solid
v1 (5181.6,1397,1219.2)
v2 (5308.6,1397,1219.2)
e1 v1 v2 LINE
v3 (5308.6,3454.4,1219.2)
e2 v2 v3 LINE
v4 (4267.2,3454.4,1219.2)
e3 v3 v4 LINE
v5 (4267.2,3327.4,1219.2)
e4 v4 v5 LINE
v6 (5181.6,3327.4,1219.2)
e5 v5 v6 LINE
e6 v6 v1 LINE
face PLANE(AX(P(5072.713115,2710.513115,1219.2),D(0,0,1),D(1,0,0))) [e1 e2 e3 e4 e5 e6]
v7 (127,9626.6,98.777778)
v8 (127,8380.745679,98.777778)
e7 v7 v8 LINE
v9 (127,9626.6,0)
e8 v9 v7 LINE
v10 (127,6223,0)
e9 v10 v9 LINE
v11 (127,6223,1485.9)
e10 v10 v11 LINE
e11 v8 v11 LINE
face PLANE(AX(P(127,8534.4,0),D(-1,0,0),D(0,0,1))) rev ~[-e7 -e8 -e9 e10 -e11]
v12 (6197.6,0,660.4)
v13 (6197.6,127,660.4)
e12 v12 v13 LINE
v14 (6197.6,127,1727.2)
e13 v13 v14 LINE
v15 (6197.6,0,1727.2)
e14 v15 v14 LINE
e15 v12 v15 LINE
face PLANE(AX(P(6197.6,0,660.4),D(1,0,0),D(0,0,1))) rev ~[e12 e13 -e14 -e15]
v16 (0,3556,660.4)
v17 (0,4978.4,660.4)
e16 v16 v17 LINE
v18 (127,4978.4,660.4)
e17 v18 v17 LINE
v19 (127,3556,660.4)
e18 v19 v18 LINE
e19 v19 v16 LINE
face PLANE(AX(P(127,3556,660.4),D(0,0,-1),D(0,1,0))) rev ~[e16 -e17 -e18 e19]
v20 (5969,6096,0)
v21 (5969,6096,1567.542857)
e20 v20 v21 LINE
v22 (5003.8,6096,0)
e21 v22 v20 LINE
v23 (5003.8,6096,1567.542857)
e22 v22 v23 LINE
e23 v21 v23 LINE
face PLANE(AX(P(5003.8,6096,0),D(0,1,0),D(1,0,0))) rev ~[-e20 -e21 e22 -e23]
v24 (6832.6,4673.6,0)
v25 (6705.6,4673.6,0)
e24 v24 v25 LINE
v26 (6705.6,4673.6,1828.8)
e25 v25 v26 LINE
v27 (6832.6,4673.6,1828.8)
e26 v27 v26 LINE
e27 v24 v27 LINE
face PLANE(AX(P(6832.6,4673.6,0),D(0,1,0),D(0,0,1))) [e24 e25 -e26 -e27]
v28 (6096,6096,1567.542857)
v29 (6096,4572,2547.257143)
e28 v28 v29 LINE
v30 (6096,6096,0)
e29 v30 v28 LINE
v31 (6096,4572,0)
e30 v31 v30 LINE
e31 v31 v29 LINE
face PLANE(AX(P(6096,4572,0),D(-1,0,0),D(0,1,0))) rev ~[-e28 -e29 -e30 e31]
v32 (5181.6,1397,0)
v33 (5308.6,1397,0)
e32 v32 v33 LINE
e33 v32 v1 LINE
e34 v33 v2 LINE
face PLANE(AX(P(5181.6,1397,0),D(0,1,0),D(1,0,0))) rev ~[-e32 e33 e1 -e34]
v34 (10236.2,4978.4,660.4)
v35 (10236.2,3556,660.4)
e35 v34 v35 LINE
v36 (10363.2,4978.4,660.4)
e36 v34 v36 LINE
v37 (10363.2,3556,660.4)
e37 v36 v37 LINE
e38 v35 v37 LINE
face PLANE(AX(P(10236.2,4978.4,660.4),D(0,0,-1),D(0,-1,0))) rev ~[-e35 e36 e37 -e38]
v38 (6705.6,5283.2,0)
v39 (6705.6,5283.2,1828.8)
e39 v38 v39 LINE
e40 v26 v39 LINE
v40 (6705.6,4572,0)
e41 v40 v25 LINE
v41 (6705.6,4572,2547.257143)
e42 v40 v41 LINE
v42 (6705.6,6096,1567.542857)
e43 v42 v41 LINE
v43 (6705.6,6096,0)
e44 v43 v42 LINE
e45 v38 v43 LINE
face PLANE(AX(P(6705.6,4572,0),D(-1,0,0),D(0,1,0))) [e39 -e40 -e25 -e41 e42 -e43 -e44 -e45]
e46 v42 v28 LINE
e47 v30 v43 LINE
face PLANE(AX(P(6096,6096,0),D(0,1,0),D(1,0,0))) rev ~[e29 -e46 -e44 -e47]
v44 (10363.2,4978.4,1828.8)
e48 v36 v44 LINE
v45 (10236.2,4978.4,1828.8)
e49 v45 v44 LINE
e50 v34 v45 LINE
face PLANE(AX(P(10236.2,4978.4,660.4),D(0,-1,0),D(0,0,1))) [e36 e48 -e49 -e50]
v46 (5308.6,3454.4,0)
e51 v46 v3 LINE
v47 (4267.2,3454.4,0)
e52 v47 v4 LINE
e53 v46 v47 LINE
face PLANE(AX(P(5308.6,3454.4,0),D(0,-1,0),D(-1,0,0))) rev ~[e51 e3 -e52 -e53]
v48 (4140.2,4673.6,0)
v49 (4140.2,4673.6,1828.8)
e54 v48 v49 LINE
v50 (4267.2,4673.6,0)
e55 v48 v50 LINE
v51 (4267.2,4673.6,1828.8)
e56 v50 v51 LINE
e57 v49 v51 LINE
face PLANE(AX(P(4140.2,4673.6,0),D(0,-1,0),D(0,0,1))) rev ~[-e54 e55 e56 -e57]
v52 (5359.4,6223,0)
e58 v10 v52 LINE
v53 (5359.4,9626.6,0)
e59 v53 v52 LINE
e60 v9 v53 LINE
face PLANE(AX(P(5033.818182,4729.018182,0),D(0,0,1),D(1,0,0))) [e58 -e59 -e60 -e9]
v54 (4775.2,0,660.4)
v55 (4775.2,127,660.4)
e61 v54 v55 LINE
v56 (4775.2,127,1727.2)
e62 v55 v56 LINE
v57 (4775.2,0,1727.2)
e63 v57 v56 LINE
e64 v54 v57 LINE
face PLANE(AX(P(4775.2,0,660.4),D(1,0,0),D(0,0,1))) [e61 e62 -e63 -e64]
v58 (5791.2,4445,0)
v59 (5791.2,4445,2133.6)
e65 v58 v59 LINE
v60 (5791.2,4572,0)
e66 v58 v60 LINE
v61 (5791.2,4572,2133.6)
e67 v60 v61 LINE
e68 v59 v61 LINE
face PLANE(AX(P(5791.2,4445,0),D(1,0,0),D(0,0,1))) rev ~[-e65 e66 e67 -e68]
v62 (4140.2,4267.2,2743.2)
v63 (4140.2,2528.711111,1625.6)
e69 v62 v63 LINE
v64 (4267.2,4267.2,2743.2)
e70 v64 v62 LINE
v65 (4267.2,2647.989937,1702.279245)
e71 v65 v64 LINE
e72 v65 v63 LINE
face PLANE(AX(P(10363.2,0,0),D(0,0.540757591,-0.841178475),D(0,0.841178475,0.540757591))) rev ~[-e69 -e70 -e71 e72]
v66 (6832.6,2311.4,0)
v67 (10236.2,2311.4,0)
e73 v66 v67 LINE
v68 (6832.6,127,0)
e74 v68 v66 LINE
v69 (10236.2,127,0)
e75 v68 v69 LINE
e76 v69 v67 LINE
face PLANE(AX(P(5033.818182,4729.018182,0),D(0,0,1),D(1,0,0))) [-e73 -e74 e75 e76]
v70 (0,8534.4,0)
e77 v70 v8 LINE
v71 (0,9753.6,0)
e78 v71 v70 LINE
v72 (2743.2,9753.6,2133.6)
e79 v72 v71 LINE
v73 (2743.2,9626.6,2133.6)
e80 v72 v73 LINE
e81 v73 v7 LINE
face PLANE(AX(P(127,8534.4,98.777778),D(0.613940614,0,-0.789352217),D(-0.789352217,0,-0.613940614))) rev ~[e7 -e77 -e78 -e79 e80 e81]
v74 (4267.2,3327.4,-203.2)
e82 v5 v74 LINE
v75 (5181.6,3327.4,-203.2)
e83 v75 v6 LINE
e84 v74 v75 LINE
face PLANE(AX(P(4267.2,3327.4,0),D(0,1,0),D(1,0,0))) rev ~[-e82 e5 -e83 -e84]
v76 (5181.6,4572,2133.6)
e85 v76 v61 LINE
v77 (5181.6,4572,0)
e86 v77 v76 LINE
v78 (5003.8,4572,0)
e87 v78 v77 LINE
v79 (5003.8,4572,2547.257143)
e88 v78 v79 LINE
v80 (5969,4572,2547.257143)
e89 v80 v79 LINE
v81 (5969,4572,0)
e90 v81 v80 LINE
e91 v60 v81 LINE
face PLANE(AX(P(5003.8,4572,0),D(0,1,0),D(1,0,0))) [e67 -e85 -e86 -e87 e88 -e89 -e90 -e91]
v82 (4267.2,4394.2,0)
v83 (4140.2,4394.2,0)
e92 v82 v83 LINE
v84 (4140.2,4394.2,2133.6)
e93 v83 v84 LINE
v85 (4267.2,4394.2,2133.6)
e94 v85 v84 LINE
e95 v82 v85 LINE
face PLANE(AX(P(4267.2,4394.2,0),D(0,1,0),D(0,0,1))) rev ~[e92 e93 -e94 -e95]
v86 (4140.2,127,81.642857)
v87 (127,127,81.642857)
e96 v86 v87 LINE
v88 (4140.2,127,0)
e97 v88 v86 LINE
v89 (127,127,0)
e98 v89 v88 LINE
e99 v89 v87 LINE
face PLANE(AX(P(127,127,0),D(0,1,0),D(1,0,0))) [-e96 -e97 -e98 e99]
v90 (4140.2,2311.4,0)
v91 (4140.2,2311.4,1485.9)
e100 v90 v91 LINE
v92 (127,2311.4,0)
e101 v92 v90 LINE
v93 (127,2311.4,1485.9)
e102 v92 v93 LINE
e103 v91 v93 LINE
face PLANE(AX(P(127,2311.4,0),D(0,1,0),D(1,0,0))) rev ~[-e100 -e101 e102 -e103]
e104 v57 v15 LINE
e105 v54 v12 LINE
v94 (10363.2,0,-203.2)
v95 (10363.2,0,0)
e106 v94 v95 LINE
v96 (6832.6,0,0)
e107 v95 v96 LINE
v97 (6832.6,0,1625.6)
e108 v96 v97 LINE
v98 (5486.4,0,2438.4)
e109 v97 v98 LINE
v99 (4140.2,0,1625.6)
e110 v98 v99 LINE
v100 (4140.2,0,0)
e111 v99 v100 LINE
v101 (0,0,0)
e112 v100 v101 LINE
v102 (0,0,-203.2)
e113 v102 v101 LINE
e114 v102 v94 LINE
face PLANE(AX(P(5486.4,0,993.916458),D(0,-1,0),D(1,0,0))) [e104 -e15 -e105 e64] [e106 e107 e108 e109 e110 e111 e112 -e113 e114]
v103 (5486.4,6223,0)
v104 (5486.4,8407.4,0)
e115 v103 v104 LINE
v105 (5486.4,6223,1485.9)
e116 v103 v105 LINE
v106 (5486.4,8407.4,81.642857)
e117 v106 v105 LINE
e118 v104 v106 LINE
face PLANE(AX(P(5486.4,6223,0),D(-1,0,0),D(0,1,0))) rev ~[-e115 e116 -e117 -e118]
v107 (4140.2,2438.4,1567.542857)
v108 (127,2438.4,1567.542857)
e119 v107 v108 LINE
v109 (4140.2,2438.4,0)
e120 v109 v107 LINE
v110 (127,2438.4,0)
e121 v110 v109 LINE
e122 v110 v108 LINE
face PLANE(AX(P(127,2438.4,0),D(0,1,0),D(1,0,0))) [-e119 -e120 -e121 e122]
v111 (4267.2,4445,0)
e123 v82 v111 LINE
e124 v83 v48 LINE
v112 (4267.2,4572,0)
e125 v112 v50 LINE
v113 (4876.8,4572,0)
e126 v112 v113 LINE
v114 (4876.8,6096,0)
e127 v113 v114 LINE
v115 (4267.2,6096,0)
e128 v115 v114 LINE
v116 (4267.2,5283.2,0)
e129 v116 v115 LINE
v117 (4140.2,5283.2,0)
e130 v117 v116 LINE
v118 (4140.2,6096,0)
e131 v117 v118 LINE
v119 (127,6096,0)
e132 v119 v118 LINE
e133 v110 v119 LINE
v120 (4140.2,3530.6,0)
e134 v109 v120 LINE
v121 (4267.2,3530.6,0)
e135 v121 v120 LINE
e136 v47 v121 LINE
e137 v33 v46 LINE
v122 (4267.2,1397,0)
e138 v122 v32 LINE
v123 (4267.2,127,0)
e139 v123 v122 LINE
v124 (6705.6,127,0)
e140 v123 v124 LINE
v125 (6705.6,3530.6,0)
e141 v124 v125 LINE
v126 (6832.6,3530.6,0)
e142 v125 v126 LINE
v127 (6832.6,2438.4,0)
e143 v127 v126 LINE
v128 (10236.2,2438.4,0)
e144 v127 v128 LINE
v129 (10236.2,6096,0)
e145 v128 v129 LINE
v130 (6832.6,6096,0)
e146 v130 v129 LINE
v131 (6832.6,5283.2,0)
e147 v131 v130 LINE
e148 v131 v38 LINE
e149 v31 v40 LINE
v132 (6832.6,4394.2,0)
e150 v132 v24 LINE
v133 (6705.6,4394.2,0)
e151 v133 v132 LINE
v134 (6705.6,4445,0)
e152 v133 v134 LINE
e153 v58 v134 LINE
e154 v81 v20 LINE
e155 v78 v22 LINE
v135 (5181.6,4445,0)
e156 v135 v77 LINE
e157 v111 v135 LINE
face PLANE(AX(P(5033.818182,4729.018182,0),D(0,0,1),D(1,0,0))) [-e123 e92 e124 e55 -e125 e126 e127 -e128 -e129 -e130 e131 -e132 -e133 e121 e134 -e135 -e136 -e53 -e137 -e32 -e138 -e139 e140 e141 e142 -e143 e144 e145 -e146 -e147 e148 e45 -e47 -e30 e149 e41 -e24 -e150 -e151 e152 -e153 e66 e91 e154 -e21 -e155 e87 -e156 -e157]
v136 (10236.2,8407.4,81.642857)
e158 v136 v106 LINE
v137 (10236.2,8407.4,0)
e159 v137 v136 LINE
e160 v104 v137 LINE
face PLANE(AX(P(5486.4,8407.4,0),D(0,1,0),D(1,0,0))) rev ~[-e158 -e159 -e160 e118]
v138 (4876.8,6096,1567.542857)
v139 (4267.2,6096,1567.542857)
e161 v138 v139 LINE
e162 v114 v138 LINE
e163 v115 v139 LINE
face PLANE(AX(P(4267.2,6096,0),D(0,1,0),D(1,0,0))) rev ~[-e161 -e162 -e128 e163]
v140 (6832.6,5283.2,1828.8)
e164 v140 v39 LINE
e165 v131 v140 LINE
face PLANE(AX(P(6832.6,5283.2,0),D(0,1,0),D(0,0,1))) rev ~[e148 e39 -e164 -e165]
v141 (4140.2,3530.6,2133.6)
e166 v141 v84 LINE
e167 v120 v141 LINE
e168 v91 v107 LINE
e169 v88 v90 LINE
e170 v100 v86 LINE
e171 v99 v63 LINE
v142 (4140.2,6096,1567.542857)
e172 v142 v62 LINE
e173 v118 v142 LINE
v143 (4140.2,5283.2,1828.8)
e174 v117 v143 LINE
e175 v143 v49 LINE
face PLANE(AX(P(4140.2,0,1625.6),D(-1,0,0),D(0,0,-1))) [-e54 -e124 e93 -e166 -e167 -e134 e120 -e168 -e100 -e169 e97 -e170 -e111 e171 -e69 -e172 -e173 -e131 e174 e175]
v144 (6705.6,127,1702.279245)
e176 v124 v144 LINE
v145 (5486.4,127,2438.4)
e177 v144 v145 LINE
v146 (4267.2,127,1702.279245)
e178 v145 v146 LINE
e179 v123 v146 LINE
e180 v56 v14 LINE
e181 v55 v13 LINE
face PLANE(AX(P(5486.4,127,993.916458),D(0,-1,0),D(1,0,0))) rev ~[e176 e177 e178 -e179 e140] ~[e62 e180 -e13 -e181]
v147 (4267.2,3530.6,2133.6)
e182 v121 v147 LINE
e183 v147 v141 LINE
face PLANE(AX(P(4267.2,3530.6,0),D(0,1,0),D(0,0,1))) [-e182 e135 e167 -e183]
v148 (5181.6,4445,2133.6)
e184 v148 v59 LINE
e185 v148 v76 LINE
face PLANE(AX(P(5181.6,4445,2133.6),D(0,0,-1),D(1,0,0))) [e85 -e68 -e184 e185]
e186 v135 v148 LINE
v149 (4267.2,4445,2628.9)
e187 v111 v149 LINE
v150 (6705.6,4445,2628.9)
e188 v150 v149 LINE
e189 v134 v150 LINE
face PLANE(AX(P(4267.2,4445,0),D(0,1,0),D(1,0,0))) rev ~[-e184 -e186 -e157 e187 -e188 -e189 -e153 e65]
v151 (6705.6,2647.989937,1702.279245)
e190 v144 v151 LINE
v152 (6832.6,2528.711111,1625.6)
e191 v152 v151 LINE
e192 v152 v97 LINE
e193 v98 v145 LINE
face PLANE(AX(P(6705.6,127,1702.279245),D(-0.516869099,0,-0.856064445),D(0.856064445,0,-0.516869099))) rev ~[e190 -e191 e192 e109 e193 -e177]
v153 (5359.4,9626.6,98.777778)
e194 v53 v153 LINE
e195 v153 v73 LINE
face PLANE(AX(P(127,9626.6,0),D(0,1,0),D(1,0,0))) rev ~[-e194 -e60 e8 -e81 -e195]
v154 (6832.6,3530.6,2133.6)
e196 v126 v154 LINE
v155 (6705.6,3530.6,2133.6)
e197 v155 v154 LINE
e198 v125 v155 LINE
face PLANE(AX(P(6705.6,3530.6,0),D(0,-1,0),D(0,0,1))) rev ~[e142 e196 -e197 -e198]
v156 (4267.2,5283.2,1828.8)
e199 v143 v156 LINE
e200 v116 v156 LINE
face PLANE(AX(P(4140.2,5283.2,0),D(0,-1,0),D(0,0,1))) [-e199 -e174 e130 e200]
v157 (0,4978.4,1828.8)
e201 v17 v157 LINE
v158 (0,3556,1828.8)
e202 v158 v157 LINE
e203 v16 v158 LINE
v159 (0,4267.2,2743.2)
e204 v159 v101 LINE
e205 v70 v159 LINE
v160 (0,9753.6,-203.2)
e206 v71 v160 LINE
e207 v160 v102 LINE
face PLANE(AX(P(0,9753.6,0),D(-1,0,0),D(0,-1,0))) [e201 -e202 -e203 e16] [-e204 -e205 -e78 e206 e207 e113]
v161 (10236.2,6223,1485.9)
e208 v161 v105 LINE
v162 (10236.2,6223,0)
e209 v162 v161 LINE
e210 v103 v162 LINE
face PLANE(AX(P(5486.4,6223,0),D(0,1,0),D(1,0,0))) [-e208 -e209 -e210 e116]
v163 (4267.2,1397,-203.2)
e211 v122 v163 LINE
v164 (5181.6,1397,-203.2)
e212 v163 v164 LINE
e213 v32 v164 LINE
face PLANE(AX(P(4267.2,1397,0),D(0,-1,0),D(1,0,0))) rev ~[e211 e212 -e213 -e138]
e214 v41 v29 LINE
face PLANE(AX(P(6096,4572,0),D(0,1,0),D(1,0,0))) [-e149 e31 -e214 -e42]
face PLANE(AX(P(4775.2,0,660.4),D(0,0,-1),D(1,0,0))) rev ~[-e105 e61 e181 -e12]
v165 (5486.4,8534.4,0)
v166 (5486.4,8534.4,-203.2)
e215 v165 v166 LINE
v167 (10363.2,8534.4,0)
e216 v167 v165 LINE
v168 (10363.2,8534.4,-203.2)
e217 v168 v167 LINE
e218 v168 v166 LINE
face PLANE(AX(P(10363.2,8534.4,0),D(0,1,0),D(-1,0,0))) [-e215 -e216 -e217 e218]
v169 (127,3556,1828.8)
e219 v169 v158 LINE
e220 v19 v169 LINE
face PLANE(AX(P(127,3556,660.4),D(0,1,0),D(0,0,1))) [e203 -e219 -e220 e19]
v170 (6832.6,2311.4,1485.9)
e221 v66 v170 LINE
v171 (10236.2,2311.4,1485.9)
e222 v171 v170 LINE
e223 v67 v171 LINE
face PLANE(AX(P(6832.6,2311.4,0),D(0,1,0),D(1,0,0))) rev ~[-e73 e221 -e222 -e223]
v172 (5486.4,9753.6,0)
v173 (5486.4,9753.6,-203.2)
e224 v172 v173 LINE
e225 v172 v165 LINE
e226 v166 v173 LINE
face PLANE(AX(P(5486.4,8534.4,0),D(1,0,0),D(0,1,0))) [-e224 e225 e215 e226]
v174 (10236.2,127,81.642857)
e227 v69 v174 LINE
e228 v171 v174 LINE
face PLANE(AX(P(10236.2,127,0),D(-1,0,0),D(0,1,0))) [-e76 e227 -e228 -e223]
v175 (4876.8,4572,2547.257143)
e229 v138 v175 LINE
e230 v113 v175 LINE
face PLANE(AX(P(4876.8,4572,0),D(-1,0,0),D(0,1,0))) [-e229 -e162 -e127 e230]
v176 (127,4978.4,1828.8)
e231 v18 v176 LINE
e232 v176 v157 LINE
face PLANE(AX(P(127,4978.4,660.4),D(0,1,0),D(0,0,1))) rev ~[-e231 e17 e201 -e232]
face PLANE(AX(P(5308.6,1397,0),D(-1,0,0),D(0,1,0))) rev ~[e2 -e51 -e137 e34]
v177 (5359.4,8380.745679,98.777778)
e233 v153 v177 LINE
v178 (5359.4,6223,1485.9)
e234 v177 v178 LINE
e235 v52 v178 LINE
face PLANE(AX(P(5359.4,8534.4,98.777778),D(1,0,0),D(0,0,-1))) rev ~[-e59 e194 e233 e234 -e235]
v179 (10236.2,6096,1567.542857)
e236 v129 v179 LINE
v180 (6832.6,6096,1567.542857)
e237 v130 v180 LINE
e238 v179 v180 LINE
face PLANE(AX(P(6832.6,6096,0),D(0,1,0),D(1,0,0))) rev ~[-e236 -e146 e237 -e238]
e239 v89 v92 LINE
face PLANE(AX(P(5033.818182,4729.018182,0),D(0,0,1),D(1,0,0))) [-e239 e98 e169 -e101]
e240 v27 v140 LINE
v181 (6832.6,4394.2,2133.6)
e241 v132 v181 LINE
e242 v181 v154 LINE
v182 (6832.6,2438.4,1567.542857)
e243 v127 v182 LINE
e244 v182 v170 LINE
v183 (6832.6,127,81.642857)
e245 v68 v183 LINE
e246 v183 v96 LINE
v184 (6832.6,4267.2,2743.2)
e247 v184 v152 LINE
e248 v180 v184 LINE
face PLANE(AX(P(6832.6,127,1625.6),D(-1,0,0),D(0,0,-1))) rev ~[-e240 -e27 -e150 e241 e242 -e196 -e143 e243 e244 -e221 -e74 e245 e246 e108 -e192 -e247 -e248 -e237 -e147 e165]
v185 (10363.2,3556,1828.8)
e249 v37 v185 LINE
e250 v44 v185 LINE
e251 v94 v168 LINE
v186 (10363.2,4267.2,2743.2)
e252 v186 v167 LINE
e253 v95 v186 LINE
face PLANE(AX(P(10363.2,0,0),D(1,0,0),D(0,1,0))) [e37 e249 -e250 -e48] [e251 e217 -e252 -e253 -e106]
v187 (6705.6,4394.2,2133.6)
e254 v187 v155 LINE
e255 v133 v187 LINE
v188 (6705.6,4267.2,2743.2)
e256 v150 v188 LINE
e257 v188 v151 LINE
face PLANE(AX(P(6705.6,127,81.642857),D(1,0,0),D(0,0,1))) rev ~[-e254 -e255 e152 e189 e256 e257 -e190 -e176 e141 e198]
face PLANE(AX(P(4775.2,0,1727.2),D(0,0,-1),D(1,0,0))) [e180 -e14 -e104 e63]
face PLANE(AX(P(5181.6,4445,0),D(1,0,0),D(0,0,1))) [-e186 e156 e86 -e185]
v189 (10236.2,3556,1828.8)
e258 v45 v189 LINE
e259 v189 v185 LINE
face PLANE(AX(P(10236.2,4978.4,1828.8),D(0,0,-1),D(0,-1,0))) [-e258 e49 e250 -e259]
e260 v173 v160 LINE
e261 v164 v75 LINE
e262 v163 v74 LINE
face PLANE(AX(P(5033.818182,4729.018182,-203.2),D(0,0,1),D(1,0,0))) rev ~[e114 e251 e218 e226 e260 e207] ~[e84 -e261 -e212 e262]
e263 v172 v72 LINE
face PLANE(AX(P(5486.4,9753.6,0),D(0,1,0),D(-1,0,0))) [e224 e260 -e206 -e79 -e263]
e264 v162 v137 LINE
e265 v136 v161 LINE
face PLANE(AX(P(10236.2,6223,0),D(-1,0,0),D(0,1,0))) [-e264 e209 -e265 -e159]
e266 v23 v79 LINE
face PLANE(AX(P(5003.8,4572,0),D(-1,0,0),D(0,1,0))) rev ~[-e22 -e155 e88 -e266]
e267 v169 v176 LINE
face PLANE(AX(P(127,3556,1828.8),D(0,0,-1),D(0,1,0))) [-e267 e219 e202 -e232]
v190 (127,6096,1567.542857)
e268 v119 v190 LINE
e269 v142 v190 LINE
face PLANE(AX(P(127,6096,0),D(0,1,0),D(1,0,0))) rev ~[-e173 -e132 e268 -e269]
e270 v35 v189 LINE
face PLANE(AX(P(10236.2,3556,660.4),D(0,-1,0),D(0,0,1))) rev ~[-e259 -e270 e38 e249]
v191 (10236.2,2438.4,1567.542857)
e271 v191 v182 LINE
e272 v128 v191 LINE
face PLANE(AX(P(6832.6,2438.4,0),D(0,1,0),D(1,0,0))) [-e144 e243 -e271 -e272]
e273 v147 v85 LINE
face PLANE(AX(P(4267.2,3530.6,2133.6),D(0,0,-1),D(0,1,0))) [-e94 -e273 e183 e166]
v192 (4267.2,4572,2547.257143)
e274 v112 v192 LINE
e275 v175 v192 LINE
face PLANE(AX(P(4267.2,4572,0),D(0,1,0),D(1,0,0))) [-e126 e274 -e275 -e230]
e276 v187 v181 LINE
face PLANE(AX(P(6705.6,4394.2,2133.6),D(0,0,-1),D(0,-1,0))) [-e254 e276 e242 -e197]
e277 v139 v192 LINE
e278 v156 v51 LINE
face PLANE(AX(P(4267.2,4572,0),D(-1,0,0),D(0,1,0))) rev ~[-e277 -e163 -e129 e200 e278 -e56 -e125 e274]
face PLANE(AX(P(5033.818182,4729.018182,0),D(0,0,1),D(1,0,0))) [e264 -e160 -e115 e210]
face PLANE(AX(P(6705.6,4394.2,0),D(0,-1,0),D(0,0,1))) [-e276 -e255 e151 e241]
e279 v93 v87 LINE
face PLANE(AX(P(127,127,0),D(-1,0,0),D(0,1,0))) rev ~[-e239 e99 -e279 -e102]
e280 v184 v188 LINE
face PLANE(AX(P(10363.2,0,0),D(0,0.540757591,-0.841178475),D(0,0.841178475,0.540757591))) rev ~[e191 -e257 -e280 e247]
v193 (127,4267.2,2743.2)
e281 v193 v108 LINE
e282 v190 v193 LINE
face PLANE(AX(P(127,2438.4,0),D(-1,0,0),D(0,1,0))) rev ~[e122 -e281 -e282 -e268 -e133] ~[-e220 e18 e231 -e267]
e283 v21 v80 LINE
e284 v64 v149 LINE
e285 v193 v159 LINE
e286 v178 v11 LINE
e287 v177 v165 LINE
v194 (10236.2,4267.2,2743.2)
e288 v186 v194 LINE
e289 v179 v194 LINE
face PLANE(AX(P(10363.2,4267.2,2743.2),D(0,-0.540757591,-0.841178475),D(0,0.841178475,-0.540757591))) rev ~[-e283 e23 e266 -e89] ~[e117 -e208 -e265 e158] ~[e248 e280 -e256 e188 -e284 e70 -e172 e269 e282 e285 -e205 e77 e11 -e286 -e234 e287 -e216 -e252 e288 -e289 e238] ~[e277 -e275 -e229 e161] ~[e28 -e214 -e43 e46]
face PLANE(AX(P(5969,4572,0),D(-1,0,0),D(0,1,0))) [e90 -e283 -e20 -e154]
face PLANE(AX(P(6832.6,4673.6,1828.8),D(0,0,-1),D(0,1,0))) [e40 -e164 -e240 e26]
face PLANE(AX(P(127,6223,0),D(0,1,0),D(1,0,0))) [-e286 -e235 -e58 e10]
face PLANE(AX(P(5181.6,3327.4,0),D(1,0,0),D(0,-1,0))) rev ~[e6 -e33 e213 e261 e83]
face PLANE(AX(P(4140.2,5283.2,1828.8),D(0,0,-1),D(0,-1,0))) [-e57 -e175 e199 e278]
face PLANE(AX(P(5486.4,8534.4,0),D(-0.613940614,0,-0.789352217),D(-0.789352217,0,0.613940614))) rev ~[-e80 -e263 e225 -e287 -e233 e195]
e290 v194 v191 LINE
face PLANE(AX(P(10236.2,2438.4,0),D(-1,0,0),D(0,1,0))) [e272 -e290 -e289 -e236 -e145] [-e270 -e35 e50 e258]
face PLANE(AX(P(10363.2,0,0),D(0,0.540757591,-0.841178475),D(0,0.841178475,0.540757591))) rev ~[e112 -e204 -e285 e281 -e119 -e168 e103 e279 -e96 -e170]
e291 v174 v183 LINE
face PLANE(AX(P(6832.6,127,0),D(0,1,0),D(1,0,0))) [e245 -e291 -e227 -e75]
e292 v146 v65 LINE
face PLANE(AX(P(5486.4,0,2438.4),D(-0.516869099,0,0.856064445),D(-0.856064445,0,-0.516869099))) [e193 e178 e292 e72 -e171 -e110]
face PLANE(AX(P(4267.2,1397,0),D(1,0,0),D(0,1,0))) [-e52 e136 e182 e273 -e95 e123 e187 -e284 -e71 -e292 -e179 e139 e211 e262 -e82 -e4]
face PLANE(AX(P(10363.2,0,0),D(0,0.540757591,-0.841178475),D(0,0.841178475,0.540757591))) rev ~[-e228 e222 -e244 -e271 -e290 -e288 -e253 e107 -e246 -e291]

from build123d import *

# Parameters (mm, degrees)
F0_W      = 4013.2
F0_H      = 2184.4
F0_H_2    = 3657.6
F0_W_2    = 2438.4
F0_H_3    = 4318
F0_W_3    = 3403.6
F0_W_4    = 609.6
F0_H_4    = 1524
F0_W_5    = 5232.4
F0_H_5    = 3403.6
F0_W_6    = 965.2
F0_W_7    = 4749.8
F1_DEPTH  = 2743.2
F2_W      = 914.4
F2_H      = 1930.4
F3_DEPTH  = 203.2
F4_W      = 863.6
F4_H      = 2133.6
F5_DEPTH  = 127
F6_W      = 863.6
F6_H      = 2133.6
F7_DEPTH  = 127
F8_W      = 609.6
F8_H      = 2133.6
F9_DEPTH  = 127
F10_W     = 1422.4
F10_H     = 1168.4
F11_DEPTH = 127
F12_W     = 609.6
F12_H     = 1828.8
F13_DEPTH = 127
F14_W     = 1422.4
F14_H     = 1168.4
F15_DEPTH = 127
F16_W     = 609.6
F16_H     = 1828.8
F17_DEPTH = 127
F19_DEPTH = 10363.201
F21_DEPTH = 1219.2
F22_W     = 1422.4
F22_H     = 1066.8
F23_DEPTH = 127
F27_DEPTH = 1219.2


with BuildPart() as f1:
    # F0 (on Top) → F1 (new body)
    with BuildSketch(Plane.XY):
        Polygon((0, 9753.6), (0, 0), (10363.2, 0), (10363.2, 8534.4), (5486.4, 8534.4), (5486.4, 9753.6), align=None)
        with Locations((2133.6, 1219.2)):
            Rectangle(F0_W, F0_H, mode=Mode.SUBTRACT)
        with Locations((2133.6, 4267.2)):
            Rectangle(F0_W, F0_H_2, mode=Mode.SUBTRACT)
        with Locations((5486.4, 2286)):
            Rectangle(F0_W_2, F0_H_3, mode=Mode.SUBTRACT)
        with Locations((8534.4, 1219.2)):
            Rectangle(F0_W_3, F0_H, mode=Mode.SUBTRACT)
        with Locations((8534.4, 4267.2)):
            Rectangle(F0_W_3, F0_H_2, mode=Mode.SUBTRACT)
        with Locations((4572, 5334)):
            Rectangle(F0_W_4, F0_H_4, mode=Mode.SUBTRACT)
        with Locations((2743.2, 7924.8)):
            Rectangle(F0_W_5, F0_H_5, mode=Mode.SUBTRACT)
        with Locations((5486.4, 5334)):
            Rectangle(F0_W_6, F0_H_4, mode=Mode.SUBTRACT)
        with Locations((6400.8, 5334)):
            Rectangle(F0_W_4, F0_H_4, mode=Mode.SUBTRACT)
        with Locations((7861.3, 7315.2)):
            Rectangle(F0_W_7, F0_H, mode=Mode.SUBTRACT)
    extrude(amount=F1_DEPTH)

    # F2 (on Top) → F3 (join)
    with BuildSketch(Plane.XY):
        Polygon((0, 9753.6), (0, 0), (10363.2, 0), (10363.2, 8534.4), (5486.4, 8534.4), (5486.4, 9753.6), align=None)
        with Locations((4724.4, 2362.2)):
            Rectangle(F2_W, F2_H, mode=Mode.SUBTRACT)
    extrude(amount=-F3_DEPTH)

    # F4 (on face) → F5 (cut, through all)
    with BuildSketch(Plane(origin=(6705.6, 0, 0), x_dir=(0, -1, 0), z_dir=(-1, 0, 0))):
        with Locations((-3962.4, 1066.8)):
            Rectangle(F4_W, F4_H)
    extrude(amount=-F5_DEPTH, mode=Mode.SUBTRACT)

    # F6 (on face) → F7 (cut, through all)
    with BuildSketch(Plane.YZ.offset(4267.2)):
        with Locations((3962.4, 1066.8)):
            Rectangle(F6_W, F6_H)
    extrude(amount=-F7_DEPTH, mode=Mode.SUBTRACT)

    # F8 (on face) → F9 (cut, through all)
    with BuildSketch(Plane.XZ.offset(-4445)):
        with Locations((5486.4, 1066.8)):
            Rectangle(F8_W, F8_H)
    extrude(amount=-F9_DEPTH, mode=Mode.SUBTRACT)

    # F10 (on face) → F11 (cut, through all)
    with BuildSketch(Plane(origin=(10236.2, 0, 0), x_dir=(0, -1, 0), z_dir=(-1, 0, 0))):
        with Locations((-4267.2, 1244.6)):
            Rectangle(F10_W, F10_H)
    extrude(amount=-F11_DEPTH, mode=Mode.SUBTRACT)

    # F12 (on face) → F13 (cut, through all)
    with BuildSketch(Plane.YZ.offset(6832.6)):
        with Locations((4978.4, 914.4)):
            Rectangle(F12_W, F12_H)
    extrude(amount=-F13_DEPTH, mode=Mode.SUBTRACT)

    # F14 (on face) → F15 (cut, through all)
    with BuildSketch(Plane.YZ.offset(127)):
        with Locations((4267.2, 1244.6)):
            Rectangle(F14_W, F14_H)
    extrude(amount=-F15_DEPTH, mode=Mode.SUBTRACT)

    # F16 (on face) → F17 (cut, through all)
    with BuildSketch(Plane(origin=(4140.2, 0, 0), x_dir=(0, -1, 0), z_dir=(-1, 0, 0))):
        with Locations((-4978.4, 914.4)):
            Rectangle(F16_W, F16_H)
    extrude(amount=-F17_DEPTH, mode=Mode.SUBTRACT)

    # F18 (on face) → F19 (cut, through all)
    with BuildSketch(Plane.YZ.offset(10363.2)):
        Polygon((0, 2743.2), (0, 0), (4267.2, 2743.2), align=None)
        Polygon((8534.4, 2743.2), (4267.2, 2743.2), (8534.4, 0), align=None)
    extrude(amount=-F19_DEPTH, mode=Mode.SUBTRACT)

    # F20 (on face) → F21 (join)
    with BuildSketch(Plane.XY):
        Polygon((4267.2, 3454.4), (4267.2, 3327.4), (5181.6, 3327.4), (5181.6, 1397), (5308.6, 1397), (5308.6, 3454.4), align=None)
    extrude(amount=F21_DEPTH)

    # F22 (on face) → F23 (join)
    with BuildSketch(Plane.XZ):
        Polygon((4140.2, 1625.6), (4140.2, 0), (6832.6, 0), (6832.6, 1625.6), (5486.4, 2438.4), align=None)
        with Locations((5486.4, 1193.8)):
            Rectangle(F22_W, F22_H, mode=Mode.SUBTRACT)
    extrude(amount=-F23_DEPTH)

    # F24 (on face) → F25 (join, up to the next surface of F1)
    with BuildSketch(Plane(origin=(0, 127, 0), x_dir=(-1, 0, 0), z_dir=(0, 1, 0))):
        Polygon((-6832.6, 81.6428571429), (-6705.6, 81.6428571429), (-6705.6, 1702.279245283), (-6832.6, 1625.6), align=None)
        Polygon((-4267.2, 1702.279245283), (-4267.2, 81.6428571429), (-4140.2, 81.6428571429), (-4140.2, 1625.6), align=None)
    extrude(until=Until.NEXT)

    # F26 (on face) → F27 (cut)
    with BuildSketch(Plane(origin=(0, 9753.6, 0), x_dir=(-1, 0, 0), z_dir=(0, 1, 0))):
        Polygon((-5486.4, 0), (-2743.2, 2133.6), (0, 0), (0, 2743.2), (-5486.4, 2743.2), align=None)
    extrude(amount=-F27_DEPTH, mode=Mode.SUBTRACT)

    # F28 (on face) → F29 (join, up to the next surface of F1)
    with BuildSketch(Plane.XZ.offset(-8534.4)):
        Polygon((0, 0), (127, 0), (127, 98.7777777778), align=None)
    extrude(until=Until.NEXT)

    # F30 (on face) → F31 (join, up to the next surface of F1)
    with BuildSketch(Plane.XZ.offset(-8534.4)):
        Polygon((5359.4, 0), (5486.4, 0), (5359.4, 98.7777777778), align=None)
    extrude(until=Until.NEXT)


solid = f1.part
